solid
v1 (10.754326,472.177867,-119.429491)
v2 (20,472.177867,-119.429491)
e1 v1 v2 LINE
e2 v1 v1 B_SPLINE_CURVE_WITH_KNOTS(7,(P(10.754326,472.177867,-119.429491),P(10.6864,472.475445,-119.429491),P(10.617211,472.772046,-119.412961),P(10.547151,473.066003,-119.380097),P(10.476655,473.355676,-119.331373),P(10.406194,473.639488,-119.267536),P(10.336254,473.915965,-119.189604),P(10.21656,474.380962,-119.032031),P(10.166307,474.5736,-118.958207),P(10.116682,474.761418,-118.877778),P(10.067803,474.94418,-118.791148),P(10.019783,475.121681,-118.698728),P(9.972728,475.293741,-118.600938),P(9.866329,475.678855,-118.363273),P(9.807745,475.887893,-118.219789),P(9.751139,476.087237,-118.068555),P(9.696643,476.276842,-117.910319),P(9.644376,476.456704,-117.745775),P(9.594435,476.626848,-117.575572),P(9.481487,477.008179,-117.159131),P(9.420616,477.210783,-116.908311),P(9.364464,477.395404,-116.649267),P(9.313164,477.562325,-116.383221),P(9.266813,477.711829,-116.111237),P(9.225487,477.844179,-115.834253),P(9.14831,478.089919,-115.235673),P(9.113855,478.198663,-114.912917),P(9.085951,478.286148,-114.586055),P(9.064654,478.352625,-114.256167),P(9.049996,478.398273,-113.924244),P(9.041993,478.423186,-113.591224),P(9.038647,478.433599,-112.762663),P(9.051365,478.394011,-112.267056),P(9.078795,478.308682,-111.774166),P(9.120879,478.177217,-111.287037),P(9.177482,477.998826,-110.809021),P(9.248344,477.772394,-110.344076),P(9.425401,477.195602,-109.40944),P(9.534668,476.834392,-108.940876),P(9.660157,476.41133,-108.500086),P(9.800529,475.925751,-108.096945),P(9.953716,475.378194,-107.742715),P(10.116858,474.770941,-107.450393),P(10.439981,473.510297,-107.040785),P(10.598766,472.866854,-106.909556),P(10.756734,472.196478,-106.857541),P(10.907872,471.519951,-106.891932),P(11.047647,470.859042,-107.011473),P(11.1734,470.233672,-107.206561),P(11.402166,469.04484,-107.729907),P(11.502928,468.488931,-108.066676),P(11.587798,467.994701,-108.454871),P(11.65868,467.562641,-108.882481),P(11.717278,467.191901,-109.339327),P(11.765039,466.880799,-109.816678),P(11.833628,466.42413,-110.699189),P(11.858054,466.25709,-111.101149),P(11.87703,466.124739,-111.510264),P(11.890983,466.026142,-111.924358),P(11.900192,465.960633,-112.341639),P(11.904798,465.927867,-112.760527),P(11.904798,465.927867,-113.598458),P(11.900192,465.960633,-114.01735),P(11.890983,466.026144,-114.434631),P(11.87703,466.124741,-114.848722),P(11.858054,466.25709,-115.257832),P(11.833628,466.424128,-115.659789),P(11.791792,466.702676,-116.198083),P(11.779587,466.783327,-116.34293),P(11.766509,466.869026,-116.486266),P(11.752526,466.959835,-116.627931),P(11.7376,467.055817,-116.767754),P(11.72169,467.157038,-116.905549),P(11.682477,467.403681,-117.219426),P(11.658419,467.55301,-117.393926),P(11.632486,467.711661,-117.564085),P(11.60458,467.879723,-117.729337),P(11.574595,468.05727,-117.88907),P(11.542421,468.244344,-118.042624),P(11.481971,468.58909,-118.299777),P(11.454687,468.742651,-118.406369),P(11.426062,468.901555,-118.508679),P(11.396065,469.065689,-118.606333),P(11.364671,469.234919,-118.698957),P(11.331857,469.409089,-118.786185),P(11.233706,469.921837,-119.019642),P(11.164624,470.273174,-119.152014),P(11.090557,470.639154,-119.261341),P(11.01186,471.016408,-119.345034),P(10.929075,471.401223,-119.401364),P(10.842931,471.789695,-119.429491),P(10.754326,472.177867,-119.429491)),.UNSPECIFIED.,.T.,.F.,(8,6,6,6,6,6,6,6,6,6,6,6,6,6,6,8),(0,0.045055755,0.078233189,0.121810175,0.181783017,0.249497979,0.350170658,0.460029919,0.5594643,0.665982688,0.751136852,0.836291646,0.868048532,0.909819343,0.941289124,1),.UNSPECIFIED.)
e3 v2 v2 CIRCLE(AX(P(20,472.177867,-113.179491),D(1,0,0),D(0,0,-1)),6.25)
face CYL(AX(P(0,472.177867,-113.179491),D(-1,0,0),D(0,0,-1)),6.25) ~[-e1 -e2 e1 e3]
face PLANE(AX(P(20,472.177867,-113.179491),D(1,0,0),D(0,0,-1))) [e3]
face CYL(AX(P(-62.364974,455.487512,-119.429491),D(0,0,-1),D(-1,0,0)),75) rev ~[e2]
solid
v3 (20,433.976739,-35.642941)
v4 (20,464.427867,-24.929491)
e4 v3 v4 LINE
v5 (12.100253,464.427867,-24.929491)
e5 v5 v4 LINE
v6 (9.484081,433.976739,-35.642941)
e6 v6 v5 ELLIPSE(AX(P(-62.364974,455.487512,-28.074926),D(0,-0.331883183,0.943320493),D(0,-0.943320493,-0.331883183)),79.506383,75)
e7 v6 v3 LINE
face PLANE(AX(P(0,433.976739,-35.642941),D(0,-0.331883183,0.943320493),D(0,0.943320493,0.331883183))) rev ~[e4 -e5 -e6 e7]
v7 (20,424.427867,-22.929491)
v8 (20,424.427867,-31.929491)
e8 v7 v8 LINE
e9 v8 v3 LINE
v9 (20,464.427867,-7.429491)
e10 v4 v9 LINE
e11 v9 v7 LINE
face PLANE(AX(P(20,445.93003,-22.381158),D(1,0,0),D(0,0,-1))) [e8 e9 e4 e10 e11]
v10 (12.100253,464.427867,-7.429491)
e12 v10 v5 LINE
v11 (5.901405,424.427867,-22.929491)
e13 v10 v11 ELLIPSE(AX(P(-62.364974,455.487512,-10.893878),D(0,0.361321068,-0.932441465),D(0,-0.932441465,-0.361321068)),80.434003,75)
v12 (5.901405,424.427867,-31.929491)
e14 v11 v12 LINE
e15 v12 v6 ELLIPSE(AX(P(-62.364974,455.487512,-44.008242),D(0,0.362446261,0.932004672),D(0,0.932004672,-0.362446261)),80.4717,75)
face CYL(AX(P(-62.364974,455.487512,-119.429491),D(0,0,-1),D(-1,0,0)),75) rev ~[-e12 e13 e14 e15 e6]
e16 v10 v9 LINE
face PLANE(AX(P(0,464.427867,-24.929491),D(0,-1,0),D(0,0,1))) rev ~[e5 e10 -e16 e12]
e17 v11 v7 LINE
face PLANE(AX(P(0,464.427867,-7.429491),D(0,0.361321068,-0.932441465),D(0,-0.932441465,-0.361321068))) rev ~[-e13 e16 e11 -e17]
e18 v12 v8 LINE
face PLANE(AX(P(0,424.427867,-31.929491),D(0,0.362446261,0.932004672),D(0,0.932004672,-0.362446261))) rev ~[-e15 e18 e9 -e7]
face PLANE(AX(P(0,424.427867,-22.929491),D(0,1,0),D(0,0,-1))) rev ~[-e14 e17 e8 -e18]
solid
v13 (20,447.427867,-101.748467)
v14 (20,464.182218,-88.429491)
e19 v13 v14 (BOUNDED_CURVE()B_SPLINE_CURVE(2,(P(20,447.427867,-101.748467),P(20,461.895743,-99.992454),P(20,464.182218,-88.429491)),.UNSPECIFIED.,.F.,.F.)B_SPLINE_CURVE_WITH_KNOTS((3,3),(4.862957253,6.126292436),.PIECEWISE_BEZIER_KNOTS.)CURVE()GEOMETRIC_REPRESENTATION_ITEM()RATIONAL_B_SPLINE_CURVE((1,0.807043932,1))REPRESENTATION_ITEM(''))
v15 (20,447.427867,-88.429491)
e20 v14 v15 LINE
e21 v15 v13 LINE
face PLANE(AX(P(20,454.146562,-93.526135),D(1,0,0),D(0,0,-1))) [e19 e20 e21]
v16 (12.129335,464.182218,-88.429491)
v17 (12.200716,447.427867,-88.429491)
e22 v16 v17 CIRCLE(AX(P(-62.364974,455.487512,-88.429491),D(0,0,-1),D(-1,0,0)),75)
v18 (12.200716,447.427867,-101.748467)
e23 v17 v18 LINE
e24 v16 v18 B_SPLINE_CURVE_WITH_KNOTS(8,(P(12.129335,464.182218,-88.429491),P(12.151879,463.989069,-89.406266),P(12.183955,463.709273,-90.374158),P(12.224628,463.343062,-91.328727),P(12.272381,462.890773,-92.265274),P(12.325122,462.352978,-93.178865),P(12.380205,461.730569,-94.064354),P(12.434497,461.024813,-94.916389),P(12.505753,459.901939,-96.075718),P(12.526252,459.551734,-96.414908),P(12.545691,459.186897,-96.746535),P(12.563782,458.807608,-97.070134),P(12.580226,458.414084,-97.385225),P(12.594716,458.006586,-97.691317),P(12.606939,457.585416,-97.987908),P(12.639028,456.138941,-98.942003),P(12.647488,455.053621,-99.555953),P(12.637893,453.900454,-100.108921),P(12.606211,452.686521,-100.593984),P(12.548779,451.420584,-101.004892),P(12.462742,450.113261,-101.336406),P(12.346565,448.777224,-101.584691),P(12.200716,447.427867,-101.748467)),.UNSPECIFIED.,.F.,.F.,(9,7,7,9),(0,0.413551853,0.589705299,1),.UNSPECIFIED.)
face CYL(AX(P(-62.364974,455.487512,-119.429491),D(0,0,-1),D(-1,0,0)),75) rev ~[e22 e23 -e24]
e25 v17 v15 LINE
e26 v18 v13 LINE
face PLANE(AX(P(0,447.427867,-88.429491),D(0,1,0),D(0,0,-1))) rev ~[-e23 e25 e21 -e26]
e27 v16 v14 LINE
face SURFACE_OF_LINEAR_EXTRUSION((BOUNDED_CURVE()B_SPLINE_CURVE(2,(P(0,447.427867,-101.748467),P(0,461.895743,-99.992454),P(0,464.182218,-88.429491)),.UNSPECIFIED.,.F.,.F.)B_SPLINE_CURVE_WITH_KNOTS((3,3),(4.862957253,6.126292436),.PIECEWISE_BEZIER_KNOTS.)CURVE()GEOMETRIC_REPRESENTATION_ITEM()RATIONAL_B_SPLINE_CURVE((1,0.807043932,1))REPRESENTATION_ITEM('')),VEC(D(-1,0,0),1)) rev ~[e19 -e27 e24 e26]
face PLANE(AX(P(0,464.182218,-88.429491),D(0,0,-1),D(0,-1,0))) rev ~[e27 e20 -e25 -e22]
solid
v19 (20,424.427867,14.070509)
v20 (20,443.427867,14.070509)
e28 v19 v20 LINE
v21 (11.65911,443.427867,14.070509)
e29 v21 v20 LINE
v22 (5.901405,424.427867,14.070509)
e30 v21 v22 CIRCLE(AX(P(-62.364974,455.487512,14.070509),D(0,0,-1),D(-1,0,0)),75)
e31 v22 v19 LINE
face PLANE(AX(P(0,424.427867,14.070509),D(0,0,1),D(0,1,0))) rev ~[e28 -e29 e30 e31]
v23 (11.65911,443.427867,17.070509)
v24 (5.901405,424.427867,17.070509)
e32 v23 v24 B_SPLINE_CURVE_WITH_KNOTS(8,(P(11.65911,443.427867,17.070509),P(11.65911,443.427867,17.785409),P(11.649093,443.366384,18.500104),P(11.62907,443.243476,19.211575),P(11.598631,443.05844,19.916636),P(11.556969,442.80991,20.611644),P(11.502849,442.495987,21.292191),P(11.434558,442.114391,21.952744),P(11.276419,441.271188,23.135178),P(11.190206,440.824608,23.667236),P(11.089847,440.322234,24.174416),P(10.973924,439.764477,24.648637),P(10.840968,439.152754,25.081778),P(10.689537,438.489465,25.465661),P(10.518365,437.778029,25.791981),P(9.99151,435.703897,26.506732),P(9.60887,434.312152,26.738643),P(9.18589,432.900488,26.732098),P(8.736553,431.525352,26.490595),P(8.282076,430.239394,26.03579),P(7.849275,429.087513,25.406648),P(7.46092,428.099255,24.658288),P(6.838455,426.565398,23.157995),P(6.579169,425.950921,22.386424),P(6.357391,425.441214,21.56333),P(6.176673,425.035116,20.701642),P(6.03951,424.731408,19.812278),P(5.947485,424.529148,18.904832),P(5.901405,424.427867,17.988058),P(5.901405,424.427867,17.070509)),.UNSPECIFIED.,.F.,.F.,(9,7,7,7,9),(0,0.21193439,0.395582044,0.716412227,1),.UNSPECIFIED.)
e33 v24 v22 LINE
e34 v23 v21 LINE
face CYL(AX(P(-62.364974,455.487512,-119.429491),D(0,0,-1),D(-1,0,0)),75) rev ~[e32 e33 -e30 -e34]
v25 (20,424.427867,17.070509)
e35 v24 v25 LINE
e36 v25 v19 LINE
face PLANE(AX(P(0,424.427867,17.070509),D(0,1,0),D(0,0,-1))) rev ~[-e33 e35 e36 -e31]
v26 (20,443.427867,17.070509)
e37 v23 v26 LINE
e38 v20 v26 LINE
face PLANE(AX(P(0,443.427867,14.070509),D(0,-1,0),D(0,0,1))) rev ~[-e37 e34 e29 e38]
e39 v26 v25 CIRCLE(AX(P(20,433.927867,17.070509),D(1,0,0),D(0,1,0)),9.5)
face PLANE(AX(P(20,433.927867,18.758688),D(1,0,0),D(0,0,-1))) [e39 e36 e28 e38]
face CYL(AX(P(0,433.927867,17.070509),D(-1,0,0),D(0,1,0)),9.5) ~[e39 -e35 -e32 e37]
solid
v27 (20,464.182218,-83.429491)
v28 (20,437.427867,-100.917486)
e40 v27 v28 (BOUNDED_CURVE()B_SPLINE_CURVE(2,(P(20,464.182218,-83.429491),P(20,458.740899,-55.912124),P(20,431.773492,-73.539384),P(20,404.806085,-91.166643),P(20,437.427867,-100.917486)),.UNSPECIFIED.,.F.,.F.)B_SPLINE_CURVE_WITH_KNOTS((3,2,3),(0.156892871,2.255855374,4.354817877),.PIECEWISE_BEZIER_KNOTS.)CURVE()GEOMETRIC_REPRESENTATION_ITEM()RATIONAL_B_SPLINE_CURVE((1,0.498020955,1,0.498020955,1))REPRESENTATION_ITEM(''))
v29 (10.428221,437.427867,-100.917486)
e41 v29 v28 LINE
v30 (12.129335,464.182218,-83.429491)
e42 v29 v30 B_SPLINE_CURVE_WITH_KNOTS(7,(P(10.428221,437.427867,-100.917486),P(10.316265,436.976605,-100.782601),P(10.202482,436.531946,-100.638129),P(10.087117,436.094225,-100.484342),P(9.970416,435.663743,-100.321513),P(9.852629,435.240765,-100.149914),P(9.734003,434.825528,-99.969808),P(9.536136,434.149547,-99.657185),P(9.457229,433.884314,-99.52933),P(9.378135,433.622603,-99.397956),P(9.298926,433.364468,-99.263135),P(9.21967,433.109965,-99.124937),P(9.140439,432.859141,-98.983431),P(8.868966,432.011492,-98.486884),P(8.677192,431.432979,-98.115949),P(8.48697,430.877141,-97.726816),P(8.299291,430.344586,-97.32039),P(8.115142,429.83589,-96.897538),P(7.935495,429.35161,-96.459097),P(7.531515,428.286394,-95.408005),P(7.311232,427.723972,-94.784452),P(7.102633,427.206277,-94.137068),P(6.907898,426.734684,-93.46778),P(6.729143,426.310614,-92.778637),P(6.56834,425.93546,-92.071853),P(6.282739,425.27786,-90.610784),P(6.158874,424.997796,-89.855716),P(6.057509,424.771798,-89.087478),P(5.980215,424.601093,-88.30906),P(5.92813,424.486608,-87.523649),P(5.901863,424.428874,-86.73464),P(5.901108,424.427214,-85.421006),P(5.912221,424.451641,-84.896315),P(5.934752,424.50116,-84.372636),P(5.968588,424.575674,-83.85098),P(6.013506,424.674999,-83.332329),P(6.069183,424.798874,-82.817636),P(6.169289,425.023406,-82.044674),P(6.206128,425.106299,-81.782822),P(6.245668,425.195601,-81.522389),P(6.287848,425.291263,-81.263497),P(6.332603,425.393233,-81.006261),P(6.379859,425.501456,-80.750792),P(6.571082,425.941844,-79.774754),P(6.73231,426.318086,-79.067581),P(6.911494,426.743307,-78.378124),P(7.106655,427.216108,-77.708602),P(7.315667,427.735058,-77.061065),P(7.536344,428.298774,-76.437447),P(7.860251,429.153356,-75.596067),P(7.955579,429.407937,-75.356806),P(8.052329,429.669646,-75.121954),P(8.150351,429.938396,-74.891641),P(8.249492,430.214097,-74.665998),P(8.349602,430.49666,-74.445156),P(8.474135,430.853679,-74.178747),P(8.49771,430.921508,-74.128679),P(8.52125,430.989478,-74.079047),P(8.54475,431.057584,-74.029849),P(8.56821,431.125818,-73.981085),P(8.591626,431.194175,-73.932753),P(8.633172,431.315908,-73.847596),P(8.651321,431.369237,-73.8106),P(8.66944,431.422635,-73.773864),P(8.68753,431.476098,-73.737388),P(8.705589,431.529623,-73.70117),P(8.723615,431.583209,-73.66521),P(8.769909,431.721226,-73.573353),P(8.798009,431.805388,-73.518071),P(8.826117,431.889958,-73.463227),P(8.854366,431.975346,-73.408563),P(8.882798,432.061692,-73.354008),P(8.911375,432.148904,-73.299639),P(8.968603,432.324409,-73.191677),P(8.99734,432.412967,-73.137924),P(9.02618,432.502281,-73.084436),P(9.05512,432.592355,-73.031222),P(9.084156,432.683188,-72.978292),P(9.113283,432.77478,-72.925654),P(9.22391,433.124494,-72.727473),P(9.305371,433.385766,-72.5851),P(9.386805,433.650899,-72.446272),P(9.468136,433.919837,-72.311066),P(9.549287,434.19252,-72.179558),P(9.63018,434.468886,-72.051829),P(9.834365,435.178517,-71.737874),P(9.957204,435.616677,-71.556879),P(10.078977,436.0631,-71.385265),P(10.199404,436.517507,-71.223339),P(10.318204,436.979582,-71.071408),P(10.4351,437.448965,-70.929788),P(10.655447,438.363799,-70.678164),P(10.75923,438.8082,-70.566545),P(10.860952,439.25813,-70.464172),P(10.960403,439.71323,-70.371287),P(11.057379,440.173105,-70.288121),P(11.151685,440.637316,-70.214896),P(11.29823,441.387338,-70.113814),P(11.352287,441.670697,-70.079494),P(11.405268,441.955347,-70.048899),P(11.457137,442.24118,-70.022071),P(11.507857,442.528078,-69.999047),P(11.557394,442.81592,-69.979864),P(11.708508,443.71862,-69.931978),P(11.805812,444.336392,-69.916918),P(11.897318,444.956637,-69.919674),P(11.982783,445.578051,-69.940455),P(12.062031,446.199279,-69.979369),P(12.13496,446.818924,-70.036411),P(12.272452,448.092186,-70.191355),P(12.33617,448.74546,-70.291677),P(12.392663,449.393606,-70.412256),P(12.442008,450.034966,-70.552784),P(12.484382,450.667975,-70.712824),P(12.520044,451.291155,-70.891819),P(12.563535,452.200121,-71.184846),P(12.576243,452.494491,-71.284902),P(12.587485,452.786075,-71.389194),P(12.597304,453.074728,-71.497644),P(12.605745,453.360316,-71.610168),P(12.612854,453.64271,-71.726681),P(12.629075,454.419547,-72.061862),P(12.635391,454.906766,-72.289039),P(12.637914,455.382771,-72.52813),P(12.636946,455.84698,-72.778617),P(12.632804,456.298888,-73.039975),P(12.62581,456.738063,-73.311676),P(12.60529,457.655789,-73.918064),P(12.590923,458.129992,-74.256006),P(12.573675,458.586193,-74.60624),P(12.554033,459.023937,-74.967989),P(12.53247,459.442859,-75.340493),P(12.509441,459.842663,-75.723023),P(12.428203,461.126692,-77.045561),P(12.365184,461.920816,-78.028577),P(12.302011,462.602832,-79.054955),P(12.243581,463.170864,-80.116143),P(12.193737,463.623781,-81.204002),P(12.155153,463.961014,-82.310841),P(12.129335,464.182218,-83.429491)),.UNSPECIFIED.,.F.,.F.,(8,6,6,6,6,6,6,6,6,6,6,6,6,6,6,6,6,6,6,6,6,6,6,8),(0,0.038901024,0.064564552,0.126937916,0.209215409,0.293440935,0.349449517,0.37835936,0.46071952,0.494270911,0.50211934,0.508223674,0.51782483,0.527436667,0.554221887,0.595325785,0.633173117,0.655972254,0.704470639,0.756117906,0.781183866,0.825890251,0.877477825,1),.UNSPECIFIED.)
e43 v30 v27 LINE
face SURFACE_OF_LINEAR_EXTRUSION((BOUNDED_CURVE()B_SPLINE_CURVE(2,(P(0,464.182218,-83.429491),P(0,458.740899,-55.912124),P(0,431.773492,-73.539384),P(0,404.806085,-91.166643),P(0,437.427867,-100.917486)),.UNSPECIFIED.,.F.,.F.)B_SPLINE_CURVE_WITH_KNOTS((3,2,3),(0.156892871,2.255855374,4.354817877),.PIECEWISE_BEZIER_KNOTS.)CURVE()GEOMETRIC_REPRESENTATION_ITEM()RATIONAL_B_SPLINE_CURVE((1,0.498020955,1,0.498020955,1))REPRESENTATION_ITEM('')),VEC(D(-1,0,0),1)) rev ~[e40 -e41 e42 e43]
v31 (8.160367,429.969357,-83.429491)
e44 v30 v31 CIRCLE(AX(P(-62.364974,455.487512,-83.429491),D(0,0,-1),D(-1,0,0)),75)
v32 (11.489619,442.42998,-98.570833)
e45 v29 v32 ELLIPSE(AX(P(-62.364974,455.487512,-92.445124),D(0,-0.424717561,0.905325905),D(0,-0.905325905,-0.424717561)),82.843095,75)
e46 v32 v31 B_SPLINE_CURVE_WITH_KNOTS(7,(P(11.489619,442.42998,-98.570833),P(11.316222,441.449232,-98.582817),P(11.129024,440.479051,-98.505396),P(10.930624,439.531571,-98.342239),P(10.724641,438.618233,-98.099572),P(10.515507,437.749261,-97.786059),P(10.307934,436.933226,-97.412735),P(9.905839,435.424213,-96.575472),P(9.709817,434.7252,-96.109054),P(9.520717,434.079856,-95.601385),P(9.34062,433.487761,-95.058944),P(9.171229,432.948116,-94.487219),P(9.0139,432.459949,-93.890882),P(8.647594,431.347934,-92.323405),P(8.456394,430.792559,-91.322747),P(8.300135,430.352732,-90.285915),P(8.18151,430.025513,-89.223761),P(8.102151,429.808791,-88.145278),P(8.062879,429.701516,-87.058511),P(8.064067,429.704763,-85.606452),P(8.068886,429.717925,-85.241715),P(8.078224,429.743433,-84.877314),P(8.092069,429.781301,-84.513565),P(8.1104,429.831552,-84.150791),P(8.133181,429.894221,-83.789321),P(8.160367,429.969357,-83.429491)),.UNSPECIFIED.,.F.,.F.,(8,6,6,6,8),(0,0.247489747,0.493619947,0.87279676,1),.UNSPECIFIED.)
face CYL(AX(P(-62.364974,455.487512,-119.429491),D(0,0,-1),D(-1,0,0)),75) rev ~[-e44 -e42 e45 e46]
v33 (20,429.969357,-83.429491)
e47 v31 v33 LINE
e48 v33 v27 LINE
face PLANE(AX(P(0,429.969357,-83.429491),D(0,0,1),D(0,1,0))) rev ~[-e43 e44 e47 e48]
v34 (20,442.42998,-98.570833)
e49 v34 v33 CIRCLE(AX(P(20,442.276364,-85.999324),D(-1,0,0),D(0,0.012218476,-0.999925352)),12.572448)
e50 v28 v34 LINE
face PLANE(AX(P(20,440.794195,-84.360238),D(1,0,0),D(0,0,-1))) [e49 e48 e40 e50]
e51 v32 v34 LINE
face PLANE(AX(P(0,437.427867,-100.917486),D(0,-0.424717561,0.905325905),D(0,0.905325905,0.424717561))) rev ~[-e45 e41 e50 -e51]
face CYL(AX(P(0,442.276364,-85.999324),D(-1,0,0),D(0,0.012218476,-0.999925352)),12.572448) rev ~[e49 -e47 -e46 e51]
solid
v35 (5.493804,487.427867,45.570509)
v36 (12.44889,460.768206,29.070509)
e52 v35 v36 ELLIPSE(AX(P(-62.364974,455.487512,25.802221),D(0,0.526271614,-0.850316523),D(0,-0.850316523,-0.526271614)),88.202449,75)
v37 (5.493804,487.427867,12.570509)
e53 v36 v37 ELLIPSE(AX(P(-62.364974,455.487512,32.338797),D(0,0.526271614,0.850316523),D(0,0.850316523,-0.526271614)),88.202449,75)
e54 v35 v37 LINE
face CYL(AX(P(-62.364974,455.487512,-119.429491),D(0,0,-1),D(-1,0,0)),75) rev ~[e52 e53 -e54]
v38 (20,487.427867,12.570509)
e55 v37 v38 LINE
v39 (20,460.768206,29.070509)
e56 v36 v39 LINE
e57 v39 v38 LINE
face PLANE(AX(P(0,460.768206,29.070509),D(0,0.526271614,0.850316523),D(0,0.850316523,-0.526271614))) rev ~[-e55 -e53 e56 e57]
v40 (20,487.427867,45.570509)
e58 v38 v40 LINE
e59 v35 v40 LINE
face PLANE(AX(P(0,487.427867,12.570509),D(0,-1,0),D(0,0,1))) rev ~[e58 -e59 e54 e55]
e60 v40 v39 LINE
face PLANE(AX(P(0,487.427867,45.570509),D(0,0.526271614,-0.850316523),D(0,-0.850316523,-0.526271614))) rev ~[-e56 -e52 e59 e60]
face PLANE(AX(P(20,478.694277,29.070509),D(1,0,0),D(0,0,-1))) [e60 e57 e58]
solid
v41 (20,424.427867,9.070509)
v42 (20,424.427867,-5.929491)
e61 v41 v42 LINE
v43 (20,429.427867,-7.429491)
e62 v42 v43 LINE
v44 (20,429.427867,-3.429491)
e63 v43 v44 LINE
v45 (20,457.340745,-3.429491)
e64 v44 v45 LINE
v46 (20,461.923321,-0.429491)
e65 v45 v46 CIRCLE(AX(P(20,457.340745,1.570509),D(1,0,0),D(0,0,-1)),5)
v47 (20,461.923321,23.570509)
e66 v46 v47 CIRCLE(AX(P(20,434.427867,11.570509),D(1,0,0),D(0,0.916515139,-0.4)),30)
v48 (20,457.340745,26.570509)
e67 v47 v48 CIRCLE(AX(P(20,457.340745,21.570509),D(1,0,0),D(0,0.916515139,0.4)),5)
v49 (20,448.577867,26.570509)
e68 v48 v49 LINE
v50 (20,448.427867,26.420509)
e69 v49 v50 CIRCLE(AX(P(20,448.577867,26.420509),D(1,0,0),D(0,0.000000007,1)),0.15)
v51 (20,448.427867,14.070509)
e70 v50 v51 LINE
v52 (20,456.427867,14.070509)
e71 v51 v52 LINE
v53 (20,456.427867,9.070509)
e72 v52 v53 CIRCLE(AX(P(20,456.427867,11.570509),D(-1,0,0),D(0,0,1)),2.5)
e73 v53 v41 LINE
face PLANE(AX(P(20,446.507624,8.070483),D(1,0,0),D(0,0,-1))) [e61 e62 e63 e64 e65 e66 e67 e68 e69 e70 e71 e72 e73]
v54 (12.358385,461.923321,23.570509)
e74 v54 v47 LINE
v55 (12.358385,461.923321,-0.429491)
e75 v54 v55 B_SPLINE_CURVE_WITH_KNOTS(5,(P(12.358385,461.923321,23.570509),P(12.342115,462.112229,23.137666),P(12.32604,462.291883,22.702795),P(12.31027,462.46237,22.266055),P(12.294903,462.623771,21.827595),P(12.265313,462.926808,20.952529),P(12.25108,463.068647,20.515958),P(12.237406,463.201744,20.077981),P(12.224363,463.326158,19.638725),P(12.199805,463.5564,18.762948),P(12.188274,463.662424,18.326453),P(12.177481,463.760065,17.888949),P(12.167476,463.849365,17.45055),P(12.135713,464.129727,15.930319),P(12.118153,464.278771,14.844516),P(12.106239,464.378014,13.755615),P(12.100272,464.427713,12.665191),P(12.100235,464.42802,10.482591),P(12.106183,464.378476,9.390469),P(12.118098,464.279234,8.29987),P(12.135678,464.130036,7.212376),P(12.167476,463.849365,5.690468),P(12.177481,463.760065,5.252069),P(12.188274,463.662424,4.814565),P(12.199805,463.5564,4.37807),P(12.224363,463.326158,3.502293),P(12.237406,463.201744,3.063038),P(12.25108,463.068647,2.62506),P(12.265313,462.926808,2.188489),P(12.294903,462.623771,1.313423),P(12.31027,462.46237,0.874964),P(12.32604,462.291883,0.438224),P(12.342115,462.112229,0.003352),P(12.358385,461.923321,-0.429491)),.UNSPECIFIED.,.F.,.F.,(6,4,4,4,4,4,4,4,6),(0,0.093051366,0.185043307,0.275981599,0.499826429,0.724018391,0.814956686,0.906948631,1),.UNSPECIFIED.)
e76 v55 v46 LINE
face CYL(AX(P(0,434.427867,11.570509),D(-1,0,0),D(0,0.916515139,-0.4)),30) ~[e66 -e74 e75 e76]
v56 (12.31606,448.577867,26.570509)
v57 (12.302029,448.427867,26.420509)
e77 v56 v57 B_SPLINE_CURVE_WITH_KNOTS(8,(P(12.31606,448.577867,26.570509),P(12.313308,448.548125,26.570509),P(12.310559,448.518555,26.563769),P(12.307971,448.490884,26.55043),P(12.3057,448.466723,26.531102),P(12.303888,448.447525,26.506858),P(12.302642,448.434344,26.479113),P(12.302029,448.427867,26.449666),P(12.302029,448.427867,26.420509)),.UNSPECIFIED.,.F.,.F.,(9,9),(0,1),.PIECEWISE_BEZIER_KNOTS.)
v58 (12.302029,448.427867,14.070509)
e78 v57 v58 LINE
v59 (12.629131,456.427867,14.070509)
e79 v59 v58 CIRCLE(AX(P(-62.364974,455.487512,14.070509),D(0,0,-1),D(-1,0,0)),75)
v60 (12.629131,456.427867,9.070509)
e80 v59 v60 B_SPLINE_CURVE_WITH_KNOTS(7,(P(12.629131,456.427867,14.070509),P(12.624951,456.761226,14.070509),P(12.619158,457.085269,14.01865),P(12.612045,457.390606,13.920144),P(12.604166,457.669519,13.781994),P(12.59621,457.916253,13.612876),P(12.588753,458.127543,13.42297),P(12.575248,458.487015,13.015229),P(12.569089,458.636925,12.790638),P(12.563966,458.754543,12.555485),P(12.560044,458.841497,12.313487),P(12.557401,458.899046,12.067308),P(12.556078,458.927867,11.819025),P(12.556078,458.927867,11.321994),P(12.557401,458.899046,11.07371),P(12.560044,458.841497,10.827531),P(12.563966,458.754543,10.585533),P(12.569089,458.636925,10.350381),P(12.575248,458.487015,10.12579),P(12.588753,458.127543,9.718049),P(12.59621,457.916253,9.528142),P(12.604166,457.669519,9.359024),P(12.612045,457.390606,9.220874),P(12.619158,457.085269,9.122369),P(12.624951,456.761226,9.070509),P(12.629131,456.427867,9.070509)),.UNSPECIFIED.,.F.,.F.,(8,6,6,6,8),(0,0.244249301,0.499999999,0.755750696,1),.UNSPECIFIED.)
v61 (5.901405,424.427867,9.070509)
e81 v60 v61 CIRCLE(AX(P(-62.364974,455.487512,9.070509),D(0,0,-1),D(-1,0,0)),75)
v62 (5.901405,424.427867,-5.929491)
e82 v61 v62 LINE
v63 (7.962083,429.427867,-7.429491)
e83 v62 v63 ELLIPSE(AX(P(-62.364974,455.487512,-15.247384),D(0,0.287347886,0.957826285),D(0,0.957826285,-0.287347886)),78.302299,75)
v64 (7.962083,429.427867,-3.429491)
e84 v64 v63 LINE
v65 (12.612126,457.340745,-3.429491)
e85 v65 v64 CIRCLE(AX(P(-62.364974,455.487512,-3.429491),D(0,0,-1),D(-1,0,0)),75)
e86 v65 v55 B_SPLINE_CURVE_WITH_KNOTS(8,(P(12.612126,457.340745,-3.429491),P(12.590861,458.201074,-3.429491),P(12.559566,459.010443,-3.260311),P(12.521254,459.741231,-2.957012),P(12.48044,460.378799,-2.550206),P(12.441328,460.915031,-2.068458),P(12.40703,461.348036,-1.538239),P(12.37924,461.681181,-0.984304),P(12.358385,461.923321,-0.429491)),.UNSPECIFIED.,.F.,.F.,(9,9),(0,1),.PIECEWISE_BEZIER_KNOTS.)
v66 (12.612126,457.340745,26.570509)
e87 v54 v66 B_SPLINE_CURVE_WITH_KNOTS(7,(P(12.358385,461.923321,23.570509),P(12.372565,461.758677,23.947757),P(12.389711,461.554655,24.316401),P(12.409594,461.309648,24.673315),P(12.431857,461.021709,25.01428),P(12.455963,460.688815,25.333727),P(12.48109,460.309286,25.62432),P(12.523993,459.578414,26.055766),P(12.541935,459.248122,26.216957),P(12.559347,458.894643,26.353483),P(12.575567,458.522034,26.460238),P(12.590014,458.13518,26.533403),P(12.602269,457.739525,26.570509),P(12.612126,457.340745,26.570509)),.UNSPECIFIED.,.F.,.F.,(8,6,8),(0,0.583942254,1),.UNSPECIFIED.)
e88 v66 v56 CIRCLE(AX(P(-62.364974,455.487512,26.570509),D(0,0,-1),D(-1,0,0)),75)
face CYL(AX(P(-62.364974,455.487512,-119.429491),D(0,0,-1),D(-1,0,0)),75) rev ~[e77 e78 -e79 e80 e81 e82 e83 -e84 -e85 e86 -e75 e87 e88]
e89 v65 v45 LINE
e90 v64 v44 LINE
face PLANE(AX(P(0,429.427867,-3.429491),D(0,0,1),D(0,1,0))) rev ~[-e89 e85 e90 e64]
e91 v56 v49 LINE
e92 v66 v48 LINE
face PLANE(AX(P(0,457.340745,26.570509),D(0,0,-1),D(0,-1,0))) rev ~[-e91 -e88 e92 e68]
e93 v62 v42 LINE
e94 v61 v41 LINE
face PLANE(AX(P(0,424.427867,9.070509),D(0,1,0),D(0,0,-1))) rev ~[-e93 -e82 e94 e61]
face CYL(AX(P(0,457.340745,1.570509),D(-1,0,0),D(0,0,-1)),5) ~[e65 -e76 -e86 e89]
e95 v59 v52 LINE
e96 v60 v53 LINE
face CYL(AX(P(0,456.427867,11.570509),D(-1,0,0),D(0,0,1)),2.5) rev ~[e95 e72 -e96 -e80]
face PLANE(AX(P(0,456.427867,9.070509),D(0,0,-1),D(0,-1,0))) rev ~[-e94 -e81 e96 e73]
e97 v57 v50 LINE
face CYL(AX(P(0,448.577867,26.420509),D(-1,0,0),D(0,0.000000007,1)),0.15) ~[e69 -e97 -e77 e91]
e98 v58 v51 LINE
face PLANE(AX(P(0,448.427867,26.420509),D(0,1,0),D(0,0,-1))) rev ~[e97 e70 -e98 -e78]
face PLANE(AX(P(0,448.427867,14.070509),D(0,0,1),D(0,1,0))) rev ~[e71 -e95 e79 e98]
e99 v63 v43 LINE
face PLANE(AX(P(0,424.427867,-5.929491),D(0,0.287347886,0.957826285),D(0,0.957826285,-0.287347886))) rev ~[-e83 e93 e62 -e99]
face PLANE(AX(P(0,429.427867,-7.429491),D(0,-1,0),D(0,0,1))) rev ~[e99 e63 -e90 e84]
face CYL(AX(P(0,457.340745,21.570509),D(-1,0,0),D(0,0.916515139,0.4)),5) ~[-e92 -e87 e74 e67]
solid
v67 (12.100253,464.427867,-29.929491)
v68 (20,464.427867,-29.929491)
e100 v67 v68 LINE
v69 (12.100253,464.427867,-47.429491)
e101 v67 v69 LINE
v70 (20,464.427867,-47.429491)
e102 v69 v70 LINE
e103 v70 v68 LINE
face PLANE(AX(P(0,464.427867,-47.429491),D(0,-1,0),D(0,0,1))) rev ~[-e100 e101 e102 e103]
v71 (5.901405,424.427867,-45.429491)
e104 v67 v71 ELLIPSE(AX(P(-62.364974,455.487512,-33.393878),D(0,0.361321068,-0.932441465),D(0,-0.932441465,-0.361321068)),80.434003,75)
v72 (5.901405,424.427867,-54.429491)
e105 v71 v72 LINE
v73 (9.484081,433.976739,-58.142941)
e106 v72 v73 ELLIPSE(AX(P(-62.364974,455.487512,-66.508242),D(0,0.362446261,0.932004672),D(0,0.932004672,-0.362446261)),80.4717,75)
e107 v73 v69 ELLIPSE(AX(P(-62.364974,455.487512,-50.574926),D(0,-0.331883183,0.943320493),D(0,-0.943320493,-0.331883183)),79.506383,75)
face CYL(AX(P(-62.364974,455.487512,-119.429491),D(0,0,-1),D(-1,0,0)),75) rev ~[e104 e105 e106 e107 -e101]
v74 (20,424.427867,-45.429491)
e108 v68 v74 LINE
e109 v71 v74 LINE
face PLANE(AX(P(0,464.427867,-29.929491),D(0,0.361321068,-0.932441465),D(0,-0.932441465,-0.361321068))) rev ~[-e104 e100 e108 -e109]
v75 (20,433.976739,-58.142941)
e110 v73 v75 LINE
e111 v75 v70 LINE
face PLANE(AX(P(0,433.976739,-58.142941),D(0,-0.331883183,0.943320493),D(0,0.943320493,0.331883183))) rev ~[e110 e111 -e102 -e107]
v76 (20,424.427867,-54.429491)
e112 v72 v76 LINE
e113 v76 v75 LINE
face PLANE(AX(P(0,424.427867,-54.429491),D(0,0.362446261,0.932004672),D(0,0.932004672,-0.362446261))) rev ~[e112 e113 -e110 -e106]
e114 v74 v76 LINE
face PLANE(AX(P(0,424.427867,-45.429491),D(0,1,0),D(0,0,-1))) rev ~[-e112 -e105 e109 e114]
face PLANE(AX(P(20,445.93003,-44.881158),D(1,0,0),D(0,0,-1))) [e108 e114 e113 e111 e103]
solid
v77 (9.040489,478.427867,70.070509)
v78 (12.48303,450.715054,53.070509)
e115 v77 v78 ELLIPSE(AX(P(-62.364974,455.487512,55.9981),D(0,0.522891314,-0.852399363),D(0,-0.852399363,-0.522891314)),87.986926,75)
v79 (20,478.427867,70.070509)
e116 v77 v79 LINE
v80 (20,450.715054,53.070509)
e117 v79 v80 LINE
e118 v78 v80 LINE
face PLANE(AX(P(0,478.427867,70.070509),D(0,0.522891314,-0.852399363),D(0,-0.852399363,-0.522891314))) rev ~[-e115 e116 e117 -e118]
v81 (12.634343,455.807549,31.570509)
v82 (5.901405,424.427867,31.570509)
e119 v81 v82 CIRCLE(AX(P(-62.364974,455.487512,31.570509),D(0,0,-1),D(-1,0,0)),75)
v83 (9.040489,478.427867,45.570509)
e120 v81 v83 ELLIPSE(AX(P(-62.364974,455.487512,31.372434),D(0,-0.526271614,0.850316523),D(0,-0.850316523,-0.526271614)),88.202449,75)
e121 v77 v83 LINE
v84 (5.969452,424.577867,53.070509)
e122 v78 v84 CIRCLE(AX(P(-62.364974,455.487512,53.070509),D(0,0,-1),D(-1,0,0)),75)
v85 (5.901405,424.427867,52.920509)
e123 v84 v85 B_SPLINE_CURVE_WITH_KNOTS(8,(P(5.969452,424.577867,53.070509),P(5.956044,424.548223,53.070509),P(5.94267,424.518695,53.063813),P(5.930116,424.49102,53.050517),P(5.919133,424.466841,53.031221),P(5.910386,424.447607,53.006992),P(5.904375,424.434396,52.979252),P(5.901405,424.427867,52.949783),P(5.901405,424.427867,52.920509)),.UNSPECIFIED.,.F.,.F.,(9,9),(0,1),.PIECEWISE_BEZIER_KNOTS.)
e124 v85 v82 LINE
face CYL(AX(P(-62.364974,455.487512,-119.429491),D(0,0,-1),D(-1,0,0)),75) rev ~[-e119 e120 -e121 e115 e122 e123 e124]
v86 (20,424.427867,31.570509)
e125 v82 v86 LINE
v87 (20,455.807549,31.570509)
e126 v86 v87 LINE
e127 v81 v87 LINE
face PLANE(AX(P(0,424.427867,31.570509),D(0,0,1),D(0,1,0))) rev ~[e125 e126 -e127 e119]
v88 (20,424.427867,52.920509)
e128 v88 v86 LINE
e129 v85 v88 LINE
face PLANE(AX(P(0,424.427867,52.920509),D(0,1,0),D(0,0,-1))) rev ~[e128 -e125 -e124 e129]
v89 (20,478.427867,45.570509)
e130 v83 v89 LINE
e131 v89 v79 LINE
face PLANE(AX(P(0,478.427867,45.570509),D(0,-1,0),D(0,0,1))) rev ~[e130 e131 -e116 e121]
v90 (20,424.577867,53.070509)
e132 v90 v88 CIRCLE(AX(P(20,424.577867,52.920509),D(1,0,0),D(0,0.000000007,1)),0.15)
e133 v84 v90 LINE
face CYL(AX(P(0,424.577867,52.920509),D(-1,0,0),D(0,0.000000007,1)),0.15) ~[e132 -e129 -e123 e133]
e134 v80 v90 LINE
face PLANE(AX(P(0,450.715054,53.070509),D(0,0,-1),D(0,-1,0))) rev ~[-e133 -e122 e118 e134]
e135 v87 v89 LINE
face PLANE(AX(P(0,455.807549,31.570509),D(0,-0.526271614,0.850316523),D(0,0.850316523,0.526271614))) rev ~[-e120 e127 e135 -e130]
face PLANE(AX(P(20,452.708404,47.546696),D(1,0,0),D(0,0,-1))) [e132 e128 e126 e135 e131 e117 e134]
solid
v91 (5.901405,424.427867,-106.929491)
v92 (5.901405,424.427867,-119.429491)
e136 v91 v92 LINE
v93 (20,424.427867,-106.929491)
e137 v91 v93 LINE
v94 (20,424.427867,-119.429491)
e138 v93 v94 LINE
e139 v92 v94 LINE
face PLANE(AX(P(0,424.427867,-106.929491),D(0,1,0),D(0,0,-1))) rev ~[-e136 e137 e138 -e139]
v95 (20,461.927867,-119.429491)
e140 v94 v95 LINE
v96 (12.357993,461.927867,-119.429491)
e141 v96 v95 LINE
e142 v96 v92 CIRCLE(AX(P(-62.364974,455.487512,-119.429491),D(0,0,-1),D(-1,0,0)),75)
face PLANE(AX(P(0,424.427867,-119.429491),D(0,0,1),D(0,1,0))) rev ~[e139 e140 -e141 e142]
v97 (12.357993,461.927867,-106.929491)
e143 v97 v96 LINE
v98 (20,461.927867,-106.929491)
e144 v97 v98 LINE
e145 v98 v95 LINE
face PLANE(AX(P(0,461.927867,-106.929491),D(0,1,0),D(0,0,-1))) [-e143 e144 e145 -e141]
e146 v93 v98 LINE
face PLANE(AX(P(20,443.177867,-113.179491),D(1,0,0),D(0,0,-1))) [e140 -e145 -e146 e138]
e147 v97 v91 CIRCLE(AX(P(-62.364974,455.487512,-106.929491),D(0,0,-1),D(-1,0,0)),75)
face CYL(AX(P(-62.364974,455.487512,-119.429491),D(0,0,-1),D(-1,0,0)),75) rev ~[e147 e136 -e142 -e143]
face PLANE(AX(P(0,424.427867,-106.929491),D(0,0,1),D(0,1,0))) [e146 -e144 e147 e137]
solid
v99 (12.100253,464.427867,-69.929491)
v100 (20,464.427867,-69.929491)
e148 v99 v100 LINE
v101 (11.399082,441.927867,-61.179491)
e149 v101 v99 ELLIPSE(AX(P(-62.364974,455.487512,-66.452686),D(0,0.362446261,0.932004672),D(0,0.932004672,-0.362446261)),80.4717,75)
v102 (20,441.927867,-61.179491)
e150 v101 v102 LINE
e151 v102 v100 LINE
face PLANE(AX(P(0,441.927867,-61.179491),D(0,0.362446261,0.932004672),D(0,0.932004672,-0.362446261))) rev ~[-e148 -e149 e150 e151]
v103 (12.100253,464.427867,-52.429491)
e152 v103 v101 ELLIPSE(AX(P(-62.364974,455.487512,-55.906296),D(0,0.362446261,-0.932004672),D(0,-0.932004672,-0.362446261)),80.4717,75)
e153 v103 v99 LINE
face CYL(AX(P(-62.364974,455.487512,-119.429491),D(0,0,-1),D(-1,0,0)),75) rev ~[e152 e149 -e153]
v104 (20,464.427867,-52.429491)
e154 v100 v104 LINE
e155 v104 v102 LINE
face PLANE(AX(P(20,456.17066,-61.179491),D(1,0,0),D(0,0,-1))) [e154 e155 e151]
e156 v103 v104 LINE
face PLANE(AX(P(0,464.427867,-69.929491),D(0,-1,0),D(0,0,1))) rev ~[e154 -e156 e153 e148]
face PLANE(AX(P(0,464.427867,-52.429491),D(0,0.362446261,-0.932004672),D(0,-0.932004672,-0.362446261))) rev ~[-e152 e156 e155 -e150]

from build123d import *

# Parameters (mm, degrees)
EXTRUDE_1_DEPTH     = 20
EXTRUDE_1_2_DEPTH   = 20
EXTRUDE_1_3_DEPTH   = 20
SKETCH_2_W          = 12.5
SKETCH_2_H          = 37.5
EXTRUDE_1_4_DEPTH   = 20
EXTRUDE_1_5_DEPTH   = 20
EXTRUDE_1_6_DEPTH   = 20
EXTRUDE_1_7_DEPTH   = 20
EXTRUDE_1_8_DEPTH   = 20
EXTRUDE_1_9_DEPTH   = 20
SKETCH_2_R          = 6.25
EXTRUDE_1_10_DEPTH  = 20
EXTRUDE_2_DEPTH     = 20
SKETCH_4_R          = 75
CUT_EXTRUDE_2_DEPTH = 524.350910285


with BuildPart() as part:
    # 草图2 → 凸台-拉伸1 (new body)
    with BuildSketch(Plane(origin=(0, 0, 0), x_dir=(0, 0, -1), z_dir=(1, 0, 0))):
        with BuildLine():
            Line((5.929490869, 424.427866758), (7.429490869, 429.427866758))
            Line((7.429490869, 429.427866758), (3.429490869, 429.427866758))
            Line((3.429490869, 429.427866758), (3.429490869, 457.340745232))
            ThreePointArc((3.429490869, 457.340745232), (2.612791001, 460.07935802), (0.429490869, 461.923320927))
            ThreePointArc((0.429490869, 461.923320927), (-11.570509131, 464.427866758), (-23.570509131, 461.923320927))
            ThreePointArc((-23.570509131, 461.923320927), (-25.753809264, 460.07935802), (-26.570509131, 457.340745232))
            Line((-26.570509131, 457.340745232), (-26.570509131, 448.577866758))
            ThreePointArc((-26.570509131, 448.577866758), (-26.526575148, 448.47180074), (-26.420509131, 448.427866758))
            Line((-26.420509131, 448.427866758), (-14.070509131, 448.427866758))
            Line((-14.070509131, 448.427866758), (-14.070509131, 456.427866758))
            ThreePointArc((-14.070509131, 456.427866758), (-11.570509131, 458.927866758), (-9.070509131, 456.427866758))
            Line((-9.070509131, 456.427866758), (-9.070509131, 424.427866758))
            Line((-9.070509131, 424.427866758), (5.929490869, 424.427866758))
        make_face()
    extrude(amount=EXTRUDE_1_DEPTH)


with BuildPart() as body_2:
    # 草图2 → Extrude 1 2 (new body)
    with BuildSketch(Plane(origin=(0, 0, 0), x_dir=(0, 0, -1), z_dir=(1, 0, 0))):
        with BuildLine():
            Line((-70.070509131, 478.427866758), (-53.070509131, 450.715053837))
            Line((-53.070509131, 450.715053837), (-53.070509131, 424.577866758))
            ThreePointArc((-53.070509131, 424.577866758), (-53.026575148, 424.47180074), (-52.920509131, 424.427866758))
            Line((-52.920509131, 424.427866758), (-31.570509131, 424.427866758))
            Line((-31.570509131, 424.427866758), (-31.570509131, 455.807548639))
            Line((-31.570509131, 455.807548639), (-45.570509131, 478.427866758))
            Line((-45.570509131, 478.427866758), (-70.070509131, 478.427866758))
        make_face()
    extrude(amount=EXTRUDE_1_2_DEPTH)


with BuildPart() as body_3:
    # 草图2 → Extrude 1 3 (new body)
    with BuildSketch(Plane(origin=(0, 0, 0), x_dir=(0, 0, -1), z_dir=(1, 0, 0))):
        with BuildLine():
            Line((-14.070509131, 424.427866758), (-14.070509131, 443.427866758))
            Line((-14.070509131, 443.427866758), (-17.070509131, 443.427866758))
            ThreePointArc((-17.070509131, 443.427866758), (-26.570509131, 433.927866758), (-17.070509131, 424.427866758))
            Line((-17.070509131, 424.427866758), (-14.070509131, 424.427866758))
        make_face()
    extrude(amount=EXTRUDE_1_3_DEPTH)


with BuildPart() as body_4:
    # 草图2 → Extrude 1 4 (new body)
    with BuildSketch(Plane(origin=(0, 0, 0), x_dir=(0, 0, -1), z_dir=(1, 0, 0))):
        with Locations((113.179490869, 443.177866758)):
            Rectangle(SKETCH_2_W, SKETCH_2_H)
    extrude(amount=EXTRUDE_1_4_DEPTH)


with BuildPart() as body_5:
    # 草图2 → Extrude 1 5 (new body)
    with BuildSketch(Plane(origin=(0, 0, 0), x_dir=(0, 0, -1), z_dir=(1, 0, 0))):
        Polygon((54.429490869, 424.427866758), (58.142941161, 433.976738938), (47.429490869, 464.427866758), (29.929490869, 464.427866758), (45.429490869, 424.427866758), align=None)
    extrude(amount=EXTRUDE_1_5_DEPTH)


with BuildPart() as body_6:
    # 草图2 → Extrude 1 6 (new body)
    with BuildSketch(Plane(origin=(0, 0, 0), x_dir=(0, 0, -1), z_dir=(1, 0, 0))):
        Polygon((31.929490869, 424.427866758), (35.642941161, 433.976738938), (24.929490869, 464.427866758), (7.429490869, 464.427866758), (22.929490869, 424.427866758), align=None)
    extrude(amount=EXTRUDE_1_6_DEPTH)


with BuildPart() as body_7:
    # 草图2 → Extrude 1 7 (new body)
    with BuildSketch(Plane(origin=(0, 0, 0), x_dir=(0, 0, -1), z_dir=(1, 0, 0))):
        Polygon((69.929490869, 464.427866758), (52.429490869, 464.427866758), (61.179490869, 441.927866758), align=None)
    extrude(amount=EXTRUDE_1_7_DEPTH)


with BuildPart() as body_8:
    # 草图2 → Extrude 1 8 (new body)
    with BuildSketch(Plane(origin=(0, 0, 0), x_dir=(0, 0, -1), z_dir=(1, 0, 0))):
        with BuildLine():
            add(Edge.make_bspline(
                [(101.748466815, 447.427866758), (99.992454165, 461.895742739), (88.429490869, 464.182217544)],
                knots=[4.862957253, 4.862957253, 4.862957253, 6.126292436, 6.126292436, 6.126292436], degree=2, weights=[1, 0.807043932, 1]))
            Line((88.429490869, 464.182217544), (88.429490869, 447.427866758))
            Line((88.429490869, 447.427866758), (101.748466815, 447.427866758))
        make_face()
    extrude(amount=EXTRUDE_1_8_DEPTH)


with BuildPart() as body_9:
    # 草图2 → Extrude 1 9 (new body)
    with BuildSketch(Plane(origin=(0, 0, 0), x_dir=(0, 0, -1), z_dir=(1, 0, 0))):
        with BuildLine():
            Line((83.429490869, 429.969357426), (83.429490869, 464.182217544))
            add(Edge.make_bspline(
                [(83.429490869, 464.182217544), (55.912124292, 458.740899105), (73.539383857, 431.773492006), (91.166643422, 404.806084906), (100.917486065, 437.427866758)],
                knots=[0.156892871, 0.156892871, 0.156892871, 2.255855374, 2.255855374, 4.354817877, 4.354817877, 4.354817877], degree=2, weights=[1, 0.498020955, 1, 0.498020955, 1]))
            Line((100.917486065, 437.427866758), (98.570833336, 442.429980403))
            ThreePointArc((98.570833336, 442.429980403), (93.988389037, 432.568568972), (83.429490869, 429.969357426))
        make_face()
    extrude(amount=EXTRUDE_1_9_DEPTH)


with BuildPart() as body_10:
    # 草图2 → Extrude 1 10 (new body)
    with BuildSketch(Plane(origin=(0, 0, 0), x_dir=(0, 0, -1), z_dir=(1, 0, 0))):
        with Locations((113.179490869, 472.177866758)):
            Circle(SKETCH_2_R)
    extrude(amount=EXTRUDE_1_10_DEPTH)


with BuildPart() as body_11:
    # 草图2<3> → 凸台-拉伸2 (new body)
    with BuildSketch(Plane(origin=(0, 0, 0), x_dir=(0, 0, -1), z_dir=(1, 0, 0))):
        Polygon((-12.570509131, 487.427866758), (-45.570509131, 487.427866758), (-29.070509131, 460.768206118), align=None)
    extrude(amount=EXTRUDE_2_DEPTH)


with BuildPart() as cut_extrude_2_tool:
    # 草图4 → 切除-拉伸2 (new, through all)
    with BuildSketch(Plane(origin=(0, 0, -119.429490869), x_dir=(-1, 0, 0), z_dir=(0, 0, -1))):
        with Locations((62.364974001, 455.487511946)):
            Circle(SKETCH_4_R)
    extrude(amount=-CUT_EXTRUDE_2_DEPTH)


with BuildPart() as part_1:
    add(part.part)

    # 切除-拉伸2: cut by cut_extrude_2_tool
    add(cut_extrude_2_tool.part, mode=Mode.SUBTRACT)


with BuildPart() as body_2_1:
    add(body_2.part)

    # 切除-拉伸2: cut by cut_extrude_2_tool
    add(cut_extrude_2_tool.part, mode=Mode.SUBTRACT)


with BuildPart() as body_3_1:
    add(body_3.part)

    # 切除-拉伸2: cut by cut_extrude_2_tool
    add(cut_extrude_2_tool.part, mode=Mode.SUBTRACT)


with BuildPart() as body_4_1:
    add(body_4.part)

    # 切除-拉伸2: cut by cut_extrude_2_tool
    add(cut_extrude_2_tool.part, mode=Mode.SUBTRACT)


with BuildPart() as body_5_1:
    add(body_5.part)

    # 切除-拉伸2: cut by cut_extrude_2_tool
    add(cut_extrude_2_tool.part, mode=Mode.SUBTRACT)


with BuildPart() as body_6_1:
    add(body_6.part)

    # 切除-拉伸2: cut by cut_extrude_2_tool
    add(cut_extrude_2_tool.part, mode=Mode.SUBTRACT)


with BuildPart() as body_7_1:
    add(body_7.part)

    # 切除-拉伸2: cut by cut_extrude_2_tool
    add(cut_extrude_2_tool.part, mode=Mode.SUBTRACT)


with BuildPart() as body_8_1:
    add(body_8.part)

    # 切除-拉伸2: cut by cut_extrude_2_tool
    add(cut_extrude_2_tool.part, mode=Mode.SUBTRACT)


with BuildPart() as body_9_1:
    add(body_9.part)

    # 切除-拉伸2: cut by cut_extrude_2_tool
    add(cut_extrude_2_tool.part, mode=Mode.SUBTRACT)


with BuildPart() as body_10_1:
    add(body_10.part)

    # 切除-拉伸2: cut by cut_extrude_2_tool
    add(cut_extrude_2_tool.part, mode=Mode.SUBTRACT)


with BuildPart() as body_11_1:
    add(body_11.part)

    # 切除-拉伸2: cut by cut_extrude_2_tool
    add(cut_extrude_2_tool.part, mode=Mode.SUBTRACT)


solid = Compound([part_1.part, body_2_1.part, body_3_1.part, body_4_1.part, body_5_1.part, body_6_1.part, body_7_1.part, body_8_1.part, body_9_1.part, body_10_1.part, body_11_1.part])
